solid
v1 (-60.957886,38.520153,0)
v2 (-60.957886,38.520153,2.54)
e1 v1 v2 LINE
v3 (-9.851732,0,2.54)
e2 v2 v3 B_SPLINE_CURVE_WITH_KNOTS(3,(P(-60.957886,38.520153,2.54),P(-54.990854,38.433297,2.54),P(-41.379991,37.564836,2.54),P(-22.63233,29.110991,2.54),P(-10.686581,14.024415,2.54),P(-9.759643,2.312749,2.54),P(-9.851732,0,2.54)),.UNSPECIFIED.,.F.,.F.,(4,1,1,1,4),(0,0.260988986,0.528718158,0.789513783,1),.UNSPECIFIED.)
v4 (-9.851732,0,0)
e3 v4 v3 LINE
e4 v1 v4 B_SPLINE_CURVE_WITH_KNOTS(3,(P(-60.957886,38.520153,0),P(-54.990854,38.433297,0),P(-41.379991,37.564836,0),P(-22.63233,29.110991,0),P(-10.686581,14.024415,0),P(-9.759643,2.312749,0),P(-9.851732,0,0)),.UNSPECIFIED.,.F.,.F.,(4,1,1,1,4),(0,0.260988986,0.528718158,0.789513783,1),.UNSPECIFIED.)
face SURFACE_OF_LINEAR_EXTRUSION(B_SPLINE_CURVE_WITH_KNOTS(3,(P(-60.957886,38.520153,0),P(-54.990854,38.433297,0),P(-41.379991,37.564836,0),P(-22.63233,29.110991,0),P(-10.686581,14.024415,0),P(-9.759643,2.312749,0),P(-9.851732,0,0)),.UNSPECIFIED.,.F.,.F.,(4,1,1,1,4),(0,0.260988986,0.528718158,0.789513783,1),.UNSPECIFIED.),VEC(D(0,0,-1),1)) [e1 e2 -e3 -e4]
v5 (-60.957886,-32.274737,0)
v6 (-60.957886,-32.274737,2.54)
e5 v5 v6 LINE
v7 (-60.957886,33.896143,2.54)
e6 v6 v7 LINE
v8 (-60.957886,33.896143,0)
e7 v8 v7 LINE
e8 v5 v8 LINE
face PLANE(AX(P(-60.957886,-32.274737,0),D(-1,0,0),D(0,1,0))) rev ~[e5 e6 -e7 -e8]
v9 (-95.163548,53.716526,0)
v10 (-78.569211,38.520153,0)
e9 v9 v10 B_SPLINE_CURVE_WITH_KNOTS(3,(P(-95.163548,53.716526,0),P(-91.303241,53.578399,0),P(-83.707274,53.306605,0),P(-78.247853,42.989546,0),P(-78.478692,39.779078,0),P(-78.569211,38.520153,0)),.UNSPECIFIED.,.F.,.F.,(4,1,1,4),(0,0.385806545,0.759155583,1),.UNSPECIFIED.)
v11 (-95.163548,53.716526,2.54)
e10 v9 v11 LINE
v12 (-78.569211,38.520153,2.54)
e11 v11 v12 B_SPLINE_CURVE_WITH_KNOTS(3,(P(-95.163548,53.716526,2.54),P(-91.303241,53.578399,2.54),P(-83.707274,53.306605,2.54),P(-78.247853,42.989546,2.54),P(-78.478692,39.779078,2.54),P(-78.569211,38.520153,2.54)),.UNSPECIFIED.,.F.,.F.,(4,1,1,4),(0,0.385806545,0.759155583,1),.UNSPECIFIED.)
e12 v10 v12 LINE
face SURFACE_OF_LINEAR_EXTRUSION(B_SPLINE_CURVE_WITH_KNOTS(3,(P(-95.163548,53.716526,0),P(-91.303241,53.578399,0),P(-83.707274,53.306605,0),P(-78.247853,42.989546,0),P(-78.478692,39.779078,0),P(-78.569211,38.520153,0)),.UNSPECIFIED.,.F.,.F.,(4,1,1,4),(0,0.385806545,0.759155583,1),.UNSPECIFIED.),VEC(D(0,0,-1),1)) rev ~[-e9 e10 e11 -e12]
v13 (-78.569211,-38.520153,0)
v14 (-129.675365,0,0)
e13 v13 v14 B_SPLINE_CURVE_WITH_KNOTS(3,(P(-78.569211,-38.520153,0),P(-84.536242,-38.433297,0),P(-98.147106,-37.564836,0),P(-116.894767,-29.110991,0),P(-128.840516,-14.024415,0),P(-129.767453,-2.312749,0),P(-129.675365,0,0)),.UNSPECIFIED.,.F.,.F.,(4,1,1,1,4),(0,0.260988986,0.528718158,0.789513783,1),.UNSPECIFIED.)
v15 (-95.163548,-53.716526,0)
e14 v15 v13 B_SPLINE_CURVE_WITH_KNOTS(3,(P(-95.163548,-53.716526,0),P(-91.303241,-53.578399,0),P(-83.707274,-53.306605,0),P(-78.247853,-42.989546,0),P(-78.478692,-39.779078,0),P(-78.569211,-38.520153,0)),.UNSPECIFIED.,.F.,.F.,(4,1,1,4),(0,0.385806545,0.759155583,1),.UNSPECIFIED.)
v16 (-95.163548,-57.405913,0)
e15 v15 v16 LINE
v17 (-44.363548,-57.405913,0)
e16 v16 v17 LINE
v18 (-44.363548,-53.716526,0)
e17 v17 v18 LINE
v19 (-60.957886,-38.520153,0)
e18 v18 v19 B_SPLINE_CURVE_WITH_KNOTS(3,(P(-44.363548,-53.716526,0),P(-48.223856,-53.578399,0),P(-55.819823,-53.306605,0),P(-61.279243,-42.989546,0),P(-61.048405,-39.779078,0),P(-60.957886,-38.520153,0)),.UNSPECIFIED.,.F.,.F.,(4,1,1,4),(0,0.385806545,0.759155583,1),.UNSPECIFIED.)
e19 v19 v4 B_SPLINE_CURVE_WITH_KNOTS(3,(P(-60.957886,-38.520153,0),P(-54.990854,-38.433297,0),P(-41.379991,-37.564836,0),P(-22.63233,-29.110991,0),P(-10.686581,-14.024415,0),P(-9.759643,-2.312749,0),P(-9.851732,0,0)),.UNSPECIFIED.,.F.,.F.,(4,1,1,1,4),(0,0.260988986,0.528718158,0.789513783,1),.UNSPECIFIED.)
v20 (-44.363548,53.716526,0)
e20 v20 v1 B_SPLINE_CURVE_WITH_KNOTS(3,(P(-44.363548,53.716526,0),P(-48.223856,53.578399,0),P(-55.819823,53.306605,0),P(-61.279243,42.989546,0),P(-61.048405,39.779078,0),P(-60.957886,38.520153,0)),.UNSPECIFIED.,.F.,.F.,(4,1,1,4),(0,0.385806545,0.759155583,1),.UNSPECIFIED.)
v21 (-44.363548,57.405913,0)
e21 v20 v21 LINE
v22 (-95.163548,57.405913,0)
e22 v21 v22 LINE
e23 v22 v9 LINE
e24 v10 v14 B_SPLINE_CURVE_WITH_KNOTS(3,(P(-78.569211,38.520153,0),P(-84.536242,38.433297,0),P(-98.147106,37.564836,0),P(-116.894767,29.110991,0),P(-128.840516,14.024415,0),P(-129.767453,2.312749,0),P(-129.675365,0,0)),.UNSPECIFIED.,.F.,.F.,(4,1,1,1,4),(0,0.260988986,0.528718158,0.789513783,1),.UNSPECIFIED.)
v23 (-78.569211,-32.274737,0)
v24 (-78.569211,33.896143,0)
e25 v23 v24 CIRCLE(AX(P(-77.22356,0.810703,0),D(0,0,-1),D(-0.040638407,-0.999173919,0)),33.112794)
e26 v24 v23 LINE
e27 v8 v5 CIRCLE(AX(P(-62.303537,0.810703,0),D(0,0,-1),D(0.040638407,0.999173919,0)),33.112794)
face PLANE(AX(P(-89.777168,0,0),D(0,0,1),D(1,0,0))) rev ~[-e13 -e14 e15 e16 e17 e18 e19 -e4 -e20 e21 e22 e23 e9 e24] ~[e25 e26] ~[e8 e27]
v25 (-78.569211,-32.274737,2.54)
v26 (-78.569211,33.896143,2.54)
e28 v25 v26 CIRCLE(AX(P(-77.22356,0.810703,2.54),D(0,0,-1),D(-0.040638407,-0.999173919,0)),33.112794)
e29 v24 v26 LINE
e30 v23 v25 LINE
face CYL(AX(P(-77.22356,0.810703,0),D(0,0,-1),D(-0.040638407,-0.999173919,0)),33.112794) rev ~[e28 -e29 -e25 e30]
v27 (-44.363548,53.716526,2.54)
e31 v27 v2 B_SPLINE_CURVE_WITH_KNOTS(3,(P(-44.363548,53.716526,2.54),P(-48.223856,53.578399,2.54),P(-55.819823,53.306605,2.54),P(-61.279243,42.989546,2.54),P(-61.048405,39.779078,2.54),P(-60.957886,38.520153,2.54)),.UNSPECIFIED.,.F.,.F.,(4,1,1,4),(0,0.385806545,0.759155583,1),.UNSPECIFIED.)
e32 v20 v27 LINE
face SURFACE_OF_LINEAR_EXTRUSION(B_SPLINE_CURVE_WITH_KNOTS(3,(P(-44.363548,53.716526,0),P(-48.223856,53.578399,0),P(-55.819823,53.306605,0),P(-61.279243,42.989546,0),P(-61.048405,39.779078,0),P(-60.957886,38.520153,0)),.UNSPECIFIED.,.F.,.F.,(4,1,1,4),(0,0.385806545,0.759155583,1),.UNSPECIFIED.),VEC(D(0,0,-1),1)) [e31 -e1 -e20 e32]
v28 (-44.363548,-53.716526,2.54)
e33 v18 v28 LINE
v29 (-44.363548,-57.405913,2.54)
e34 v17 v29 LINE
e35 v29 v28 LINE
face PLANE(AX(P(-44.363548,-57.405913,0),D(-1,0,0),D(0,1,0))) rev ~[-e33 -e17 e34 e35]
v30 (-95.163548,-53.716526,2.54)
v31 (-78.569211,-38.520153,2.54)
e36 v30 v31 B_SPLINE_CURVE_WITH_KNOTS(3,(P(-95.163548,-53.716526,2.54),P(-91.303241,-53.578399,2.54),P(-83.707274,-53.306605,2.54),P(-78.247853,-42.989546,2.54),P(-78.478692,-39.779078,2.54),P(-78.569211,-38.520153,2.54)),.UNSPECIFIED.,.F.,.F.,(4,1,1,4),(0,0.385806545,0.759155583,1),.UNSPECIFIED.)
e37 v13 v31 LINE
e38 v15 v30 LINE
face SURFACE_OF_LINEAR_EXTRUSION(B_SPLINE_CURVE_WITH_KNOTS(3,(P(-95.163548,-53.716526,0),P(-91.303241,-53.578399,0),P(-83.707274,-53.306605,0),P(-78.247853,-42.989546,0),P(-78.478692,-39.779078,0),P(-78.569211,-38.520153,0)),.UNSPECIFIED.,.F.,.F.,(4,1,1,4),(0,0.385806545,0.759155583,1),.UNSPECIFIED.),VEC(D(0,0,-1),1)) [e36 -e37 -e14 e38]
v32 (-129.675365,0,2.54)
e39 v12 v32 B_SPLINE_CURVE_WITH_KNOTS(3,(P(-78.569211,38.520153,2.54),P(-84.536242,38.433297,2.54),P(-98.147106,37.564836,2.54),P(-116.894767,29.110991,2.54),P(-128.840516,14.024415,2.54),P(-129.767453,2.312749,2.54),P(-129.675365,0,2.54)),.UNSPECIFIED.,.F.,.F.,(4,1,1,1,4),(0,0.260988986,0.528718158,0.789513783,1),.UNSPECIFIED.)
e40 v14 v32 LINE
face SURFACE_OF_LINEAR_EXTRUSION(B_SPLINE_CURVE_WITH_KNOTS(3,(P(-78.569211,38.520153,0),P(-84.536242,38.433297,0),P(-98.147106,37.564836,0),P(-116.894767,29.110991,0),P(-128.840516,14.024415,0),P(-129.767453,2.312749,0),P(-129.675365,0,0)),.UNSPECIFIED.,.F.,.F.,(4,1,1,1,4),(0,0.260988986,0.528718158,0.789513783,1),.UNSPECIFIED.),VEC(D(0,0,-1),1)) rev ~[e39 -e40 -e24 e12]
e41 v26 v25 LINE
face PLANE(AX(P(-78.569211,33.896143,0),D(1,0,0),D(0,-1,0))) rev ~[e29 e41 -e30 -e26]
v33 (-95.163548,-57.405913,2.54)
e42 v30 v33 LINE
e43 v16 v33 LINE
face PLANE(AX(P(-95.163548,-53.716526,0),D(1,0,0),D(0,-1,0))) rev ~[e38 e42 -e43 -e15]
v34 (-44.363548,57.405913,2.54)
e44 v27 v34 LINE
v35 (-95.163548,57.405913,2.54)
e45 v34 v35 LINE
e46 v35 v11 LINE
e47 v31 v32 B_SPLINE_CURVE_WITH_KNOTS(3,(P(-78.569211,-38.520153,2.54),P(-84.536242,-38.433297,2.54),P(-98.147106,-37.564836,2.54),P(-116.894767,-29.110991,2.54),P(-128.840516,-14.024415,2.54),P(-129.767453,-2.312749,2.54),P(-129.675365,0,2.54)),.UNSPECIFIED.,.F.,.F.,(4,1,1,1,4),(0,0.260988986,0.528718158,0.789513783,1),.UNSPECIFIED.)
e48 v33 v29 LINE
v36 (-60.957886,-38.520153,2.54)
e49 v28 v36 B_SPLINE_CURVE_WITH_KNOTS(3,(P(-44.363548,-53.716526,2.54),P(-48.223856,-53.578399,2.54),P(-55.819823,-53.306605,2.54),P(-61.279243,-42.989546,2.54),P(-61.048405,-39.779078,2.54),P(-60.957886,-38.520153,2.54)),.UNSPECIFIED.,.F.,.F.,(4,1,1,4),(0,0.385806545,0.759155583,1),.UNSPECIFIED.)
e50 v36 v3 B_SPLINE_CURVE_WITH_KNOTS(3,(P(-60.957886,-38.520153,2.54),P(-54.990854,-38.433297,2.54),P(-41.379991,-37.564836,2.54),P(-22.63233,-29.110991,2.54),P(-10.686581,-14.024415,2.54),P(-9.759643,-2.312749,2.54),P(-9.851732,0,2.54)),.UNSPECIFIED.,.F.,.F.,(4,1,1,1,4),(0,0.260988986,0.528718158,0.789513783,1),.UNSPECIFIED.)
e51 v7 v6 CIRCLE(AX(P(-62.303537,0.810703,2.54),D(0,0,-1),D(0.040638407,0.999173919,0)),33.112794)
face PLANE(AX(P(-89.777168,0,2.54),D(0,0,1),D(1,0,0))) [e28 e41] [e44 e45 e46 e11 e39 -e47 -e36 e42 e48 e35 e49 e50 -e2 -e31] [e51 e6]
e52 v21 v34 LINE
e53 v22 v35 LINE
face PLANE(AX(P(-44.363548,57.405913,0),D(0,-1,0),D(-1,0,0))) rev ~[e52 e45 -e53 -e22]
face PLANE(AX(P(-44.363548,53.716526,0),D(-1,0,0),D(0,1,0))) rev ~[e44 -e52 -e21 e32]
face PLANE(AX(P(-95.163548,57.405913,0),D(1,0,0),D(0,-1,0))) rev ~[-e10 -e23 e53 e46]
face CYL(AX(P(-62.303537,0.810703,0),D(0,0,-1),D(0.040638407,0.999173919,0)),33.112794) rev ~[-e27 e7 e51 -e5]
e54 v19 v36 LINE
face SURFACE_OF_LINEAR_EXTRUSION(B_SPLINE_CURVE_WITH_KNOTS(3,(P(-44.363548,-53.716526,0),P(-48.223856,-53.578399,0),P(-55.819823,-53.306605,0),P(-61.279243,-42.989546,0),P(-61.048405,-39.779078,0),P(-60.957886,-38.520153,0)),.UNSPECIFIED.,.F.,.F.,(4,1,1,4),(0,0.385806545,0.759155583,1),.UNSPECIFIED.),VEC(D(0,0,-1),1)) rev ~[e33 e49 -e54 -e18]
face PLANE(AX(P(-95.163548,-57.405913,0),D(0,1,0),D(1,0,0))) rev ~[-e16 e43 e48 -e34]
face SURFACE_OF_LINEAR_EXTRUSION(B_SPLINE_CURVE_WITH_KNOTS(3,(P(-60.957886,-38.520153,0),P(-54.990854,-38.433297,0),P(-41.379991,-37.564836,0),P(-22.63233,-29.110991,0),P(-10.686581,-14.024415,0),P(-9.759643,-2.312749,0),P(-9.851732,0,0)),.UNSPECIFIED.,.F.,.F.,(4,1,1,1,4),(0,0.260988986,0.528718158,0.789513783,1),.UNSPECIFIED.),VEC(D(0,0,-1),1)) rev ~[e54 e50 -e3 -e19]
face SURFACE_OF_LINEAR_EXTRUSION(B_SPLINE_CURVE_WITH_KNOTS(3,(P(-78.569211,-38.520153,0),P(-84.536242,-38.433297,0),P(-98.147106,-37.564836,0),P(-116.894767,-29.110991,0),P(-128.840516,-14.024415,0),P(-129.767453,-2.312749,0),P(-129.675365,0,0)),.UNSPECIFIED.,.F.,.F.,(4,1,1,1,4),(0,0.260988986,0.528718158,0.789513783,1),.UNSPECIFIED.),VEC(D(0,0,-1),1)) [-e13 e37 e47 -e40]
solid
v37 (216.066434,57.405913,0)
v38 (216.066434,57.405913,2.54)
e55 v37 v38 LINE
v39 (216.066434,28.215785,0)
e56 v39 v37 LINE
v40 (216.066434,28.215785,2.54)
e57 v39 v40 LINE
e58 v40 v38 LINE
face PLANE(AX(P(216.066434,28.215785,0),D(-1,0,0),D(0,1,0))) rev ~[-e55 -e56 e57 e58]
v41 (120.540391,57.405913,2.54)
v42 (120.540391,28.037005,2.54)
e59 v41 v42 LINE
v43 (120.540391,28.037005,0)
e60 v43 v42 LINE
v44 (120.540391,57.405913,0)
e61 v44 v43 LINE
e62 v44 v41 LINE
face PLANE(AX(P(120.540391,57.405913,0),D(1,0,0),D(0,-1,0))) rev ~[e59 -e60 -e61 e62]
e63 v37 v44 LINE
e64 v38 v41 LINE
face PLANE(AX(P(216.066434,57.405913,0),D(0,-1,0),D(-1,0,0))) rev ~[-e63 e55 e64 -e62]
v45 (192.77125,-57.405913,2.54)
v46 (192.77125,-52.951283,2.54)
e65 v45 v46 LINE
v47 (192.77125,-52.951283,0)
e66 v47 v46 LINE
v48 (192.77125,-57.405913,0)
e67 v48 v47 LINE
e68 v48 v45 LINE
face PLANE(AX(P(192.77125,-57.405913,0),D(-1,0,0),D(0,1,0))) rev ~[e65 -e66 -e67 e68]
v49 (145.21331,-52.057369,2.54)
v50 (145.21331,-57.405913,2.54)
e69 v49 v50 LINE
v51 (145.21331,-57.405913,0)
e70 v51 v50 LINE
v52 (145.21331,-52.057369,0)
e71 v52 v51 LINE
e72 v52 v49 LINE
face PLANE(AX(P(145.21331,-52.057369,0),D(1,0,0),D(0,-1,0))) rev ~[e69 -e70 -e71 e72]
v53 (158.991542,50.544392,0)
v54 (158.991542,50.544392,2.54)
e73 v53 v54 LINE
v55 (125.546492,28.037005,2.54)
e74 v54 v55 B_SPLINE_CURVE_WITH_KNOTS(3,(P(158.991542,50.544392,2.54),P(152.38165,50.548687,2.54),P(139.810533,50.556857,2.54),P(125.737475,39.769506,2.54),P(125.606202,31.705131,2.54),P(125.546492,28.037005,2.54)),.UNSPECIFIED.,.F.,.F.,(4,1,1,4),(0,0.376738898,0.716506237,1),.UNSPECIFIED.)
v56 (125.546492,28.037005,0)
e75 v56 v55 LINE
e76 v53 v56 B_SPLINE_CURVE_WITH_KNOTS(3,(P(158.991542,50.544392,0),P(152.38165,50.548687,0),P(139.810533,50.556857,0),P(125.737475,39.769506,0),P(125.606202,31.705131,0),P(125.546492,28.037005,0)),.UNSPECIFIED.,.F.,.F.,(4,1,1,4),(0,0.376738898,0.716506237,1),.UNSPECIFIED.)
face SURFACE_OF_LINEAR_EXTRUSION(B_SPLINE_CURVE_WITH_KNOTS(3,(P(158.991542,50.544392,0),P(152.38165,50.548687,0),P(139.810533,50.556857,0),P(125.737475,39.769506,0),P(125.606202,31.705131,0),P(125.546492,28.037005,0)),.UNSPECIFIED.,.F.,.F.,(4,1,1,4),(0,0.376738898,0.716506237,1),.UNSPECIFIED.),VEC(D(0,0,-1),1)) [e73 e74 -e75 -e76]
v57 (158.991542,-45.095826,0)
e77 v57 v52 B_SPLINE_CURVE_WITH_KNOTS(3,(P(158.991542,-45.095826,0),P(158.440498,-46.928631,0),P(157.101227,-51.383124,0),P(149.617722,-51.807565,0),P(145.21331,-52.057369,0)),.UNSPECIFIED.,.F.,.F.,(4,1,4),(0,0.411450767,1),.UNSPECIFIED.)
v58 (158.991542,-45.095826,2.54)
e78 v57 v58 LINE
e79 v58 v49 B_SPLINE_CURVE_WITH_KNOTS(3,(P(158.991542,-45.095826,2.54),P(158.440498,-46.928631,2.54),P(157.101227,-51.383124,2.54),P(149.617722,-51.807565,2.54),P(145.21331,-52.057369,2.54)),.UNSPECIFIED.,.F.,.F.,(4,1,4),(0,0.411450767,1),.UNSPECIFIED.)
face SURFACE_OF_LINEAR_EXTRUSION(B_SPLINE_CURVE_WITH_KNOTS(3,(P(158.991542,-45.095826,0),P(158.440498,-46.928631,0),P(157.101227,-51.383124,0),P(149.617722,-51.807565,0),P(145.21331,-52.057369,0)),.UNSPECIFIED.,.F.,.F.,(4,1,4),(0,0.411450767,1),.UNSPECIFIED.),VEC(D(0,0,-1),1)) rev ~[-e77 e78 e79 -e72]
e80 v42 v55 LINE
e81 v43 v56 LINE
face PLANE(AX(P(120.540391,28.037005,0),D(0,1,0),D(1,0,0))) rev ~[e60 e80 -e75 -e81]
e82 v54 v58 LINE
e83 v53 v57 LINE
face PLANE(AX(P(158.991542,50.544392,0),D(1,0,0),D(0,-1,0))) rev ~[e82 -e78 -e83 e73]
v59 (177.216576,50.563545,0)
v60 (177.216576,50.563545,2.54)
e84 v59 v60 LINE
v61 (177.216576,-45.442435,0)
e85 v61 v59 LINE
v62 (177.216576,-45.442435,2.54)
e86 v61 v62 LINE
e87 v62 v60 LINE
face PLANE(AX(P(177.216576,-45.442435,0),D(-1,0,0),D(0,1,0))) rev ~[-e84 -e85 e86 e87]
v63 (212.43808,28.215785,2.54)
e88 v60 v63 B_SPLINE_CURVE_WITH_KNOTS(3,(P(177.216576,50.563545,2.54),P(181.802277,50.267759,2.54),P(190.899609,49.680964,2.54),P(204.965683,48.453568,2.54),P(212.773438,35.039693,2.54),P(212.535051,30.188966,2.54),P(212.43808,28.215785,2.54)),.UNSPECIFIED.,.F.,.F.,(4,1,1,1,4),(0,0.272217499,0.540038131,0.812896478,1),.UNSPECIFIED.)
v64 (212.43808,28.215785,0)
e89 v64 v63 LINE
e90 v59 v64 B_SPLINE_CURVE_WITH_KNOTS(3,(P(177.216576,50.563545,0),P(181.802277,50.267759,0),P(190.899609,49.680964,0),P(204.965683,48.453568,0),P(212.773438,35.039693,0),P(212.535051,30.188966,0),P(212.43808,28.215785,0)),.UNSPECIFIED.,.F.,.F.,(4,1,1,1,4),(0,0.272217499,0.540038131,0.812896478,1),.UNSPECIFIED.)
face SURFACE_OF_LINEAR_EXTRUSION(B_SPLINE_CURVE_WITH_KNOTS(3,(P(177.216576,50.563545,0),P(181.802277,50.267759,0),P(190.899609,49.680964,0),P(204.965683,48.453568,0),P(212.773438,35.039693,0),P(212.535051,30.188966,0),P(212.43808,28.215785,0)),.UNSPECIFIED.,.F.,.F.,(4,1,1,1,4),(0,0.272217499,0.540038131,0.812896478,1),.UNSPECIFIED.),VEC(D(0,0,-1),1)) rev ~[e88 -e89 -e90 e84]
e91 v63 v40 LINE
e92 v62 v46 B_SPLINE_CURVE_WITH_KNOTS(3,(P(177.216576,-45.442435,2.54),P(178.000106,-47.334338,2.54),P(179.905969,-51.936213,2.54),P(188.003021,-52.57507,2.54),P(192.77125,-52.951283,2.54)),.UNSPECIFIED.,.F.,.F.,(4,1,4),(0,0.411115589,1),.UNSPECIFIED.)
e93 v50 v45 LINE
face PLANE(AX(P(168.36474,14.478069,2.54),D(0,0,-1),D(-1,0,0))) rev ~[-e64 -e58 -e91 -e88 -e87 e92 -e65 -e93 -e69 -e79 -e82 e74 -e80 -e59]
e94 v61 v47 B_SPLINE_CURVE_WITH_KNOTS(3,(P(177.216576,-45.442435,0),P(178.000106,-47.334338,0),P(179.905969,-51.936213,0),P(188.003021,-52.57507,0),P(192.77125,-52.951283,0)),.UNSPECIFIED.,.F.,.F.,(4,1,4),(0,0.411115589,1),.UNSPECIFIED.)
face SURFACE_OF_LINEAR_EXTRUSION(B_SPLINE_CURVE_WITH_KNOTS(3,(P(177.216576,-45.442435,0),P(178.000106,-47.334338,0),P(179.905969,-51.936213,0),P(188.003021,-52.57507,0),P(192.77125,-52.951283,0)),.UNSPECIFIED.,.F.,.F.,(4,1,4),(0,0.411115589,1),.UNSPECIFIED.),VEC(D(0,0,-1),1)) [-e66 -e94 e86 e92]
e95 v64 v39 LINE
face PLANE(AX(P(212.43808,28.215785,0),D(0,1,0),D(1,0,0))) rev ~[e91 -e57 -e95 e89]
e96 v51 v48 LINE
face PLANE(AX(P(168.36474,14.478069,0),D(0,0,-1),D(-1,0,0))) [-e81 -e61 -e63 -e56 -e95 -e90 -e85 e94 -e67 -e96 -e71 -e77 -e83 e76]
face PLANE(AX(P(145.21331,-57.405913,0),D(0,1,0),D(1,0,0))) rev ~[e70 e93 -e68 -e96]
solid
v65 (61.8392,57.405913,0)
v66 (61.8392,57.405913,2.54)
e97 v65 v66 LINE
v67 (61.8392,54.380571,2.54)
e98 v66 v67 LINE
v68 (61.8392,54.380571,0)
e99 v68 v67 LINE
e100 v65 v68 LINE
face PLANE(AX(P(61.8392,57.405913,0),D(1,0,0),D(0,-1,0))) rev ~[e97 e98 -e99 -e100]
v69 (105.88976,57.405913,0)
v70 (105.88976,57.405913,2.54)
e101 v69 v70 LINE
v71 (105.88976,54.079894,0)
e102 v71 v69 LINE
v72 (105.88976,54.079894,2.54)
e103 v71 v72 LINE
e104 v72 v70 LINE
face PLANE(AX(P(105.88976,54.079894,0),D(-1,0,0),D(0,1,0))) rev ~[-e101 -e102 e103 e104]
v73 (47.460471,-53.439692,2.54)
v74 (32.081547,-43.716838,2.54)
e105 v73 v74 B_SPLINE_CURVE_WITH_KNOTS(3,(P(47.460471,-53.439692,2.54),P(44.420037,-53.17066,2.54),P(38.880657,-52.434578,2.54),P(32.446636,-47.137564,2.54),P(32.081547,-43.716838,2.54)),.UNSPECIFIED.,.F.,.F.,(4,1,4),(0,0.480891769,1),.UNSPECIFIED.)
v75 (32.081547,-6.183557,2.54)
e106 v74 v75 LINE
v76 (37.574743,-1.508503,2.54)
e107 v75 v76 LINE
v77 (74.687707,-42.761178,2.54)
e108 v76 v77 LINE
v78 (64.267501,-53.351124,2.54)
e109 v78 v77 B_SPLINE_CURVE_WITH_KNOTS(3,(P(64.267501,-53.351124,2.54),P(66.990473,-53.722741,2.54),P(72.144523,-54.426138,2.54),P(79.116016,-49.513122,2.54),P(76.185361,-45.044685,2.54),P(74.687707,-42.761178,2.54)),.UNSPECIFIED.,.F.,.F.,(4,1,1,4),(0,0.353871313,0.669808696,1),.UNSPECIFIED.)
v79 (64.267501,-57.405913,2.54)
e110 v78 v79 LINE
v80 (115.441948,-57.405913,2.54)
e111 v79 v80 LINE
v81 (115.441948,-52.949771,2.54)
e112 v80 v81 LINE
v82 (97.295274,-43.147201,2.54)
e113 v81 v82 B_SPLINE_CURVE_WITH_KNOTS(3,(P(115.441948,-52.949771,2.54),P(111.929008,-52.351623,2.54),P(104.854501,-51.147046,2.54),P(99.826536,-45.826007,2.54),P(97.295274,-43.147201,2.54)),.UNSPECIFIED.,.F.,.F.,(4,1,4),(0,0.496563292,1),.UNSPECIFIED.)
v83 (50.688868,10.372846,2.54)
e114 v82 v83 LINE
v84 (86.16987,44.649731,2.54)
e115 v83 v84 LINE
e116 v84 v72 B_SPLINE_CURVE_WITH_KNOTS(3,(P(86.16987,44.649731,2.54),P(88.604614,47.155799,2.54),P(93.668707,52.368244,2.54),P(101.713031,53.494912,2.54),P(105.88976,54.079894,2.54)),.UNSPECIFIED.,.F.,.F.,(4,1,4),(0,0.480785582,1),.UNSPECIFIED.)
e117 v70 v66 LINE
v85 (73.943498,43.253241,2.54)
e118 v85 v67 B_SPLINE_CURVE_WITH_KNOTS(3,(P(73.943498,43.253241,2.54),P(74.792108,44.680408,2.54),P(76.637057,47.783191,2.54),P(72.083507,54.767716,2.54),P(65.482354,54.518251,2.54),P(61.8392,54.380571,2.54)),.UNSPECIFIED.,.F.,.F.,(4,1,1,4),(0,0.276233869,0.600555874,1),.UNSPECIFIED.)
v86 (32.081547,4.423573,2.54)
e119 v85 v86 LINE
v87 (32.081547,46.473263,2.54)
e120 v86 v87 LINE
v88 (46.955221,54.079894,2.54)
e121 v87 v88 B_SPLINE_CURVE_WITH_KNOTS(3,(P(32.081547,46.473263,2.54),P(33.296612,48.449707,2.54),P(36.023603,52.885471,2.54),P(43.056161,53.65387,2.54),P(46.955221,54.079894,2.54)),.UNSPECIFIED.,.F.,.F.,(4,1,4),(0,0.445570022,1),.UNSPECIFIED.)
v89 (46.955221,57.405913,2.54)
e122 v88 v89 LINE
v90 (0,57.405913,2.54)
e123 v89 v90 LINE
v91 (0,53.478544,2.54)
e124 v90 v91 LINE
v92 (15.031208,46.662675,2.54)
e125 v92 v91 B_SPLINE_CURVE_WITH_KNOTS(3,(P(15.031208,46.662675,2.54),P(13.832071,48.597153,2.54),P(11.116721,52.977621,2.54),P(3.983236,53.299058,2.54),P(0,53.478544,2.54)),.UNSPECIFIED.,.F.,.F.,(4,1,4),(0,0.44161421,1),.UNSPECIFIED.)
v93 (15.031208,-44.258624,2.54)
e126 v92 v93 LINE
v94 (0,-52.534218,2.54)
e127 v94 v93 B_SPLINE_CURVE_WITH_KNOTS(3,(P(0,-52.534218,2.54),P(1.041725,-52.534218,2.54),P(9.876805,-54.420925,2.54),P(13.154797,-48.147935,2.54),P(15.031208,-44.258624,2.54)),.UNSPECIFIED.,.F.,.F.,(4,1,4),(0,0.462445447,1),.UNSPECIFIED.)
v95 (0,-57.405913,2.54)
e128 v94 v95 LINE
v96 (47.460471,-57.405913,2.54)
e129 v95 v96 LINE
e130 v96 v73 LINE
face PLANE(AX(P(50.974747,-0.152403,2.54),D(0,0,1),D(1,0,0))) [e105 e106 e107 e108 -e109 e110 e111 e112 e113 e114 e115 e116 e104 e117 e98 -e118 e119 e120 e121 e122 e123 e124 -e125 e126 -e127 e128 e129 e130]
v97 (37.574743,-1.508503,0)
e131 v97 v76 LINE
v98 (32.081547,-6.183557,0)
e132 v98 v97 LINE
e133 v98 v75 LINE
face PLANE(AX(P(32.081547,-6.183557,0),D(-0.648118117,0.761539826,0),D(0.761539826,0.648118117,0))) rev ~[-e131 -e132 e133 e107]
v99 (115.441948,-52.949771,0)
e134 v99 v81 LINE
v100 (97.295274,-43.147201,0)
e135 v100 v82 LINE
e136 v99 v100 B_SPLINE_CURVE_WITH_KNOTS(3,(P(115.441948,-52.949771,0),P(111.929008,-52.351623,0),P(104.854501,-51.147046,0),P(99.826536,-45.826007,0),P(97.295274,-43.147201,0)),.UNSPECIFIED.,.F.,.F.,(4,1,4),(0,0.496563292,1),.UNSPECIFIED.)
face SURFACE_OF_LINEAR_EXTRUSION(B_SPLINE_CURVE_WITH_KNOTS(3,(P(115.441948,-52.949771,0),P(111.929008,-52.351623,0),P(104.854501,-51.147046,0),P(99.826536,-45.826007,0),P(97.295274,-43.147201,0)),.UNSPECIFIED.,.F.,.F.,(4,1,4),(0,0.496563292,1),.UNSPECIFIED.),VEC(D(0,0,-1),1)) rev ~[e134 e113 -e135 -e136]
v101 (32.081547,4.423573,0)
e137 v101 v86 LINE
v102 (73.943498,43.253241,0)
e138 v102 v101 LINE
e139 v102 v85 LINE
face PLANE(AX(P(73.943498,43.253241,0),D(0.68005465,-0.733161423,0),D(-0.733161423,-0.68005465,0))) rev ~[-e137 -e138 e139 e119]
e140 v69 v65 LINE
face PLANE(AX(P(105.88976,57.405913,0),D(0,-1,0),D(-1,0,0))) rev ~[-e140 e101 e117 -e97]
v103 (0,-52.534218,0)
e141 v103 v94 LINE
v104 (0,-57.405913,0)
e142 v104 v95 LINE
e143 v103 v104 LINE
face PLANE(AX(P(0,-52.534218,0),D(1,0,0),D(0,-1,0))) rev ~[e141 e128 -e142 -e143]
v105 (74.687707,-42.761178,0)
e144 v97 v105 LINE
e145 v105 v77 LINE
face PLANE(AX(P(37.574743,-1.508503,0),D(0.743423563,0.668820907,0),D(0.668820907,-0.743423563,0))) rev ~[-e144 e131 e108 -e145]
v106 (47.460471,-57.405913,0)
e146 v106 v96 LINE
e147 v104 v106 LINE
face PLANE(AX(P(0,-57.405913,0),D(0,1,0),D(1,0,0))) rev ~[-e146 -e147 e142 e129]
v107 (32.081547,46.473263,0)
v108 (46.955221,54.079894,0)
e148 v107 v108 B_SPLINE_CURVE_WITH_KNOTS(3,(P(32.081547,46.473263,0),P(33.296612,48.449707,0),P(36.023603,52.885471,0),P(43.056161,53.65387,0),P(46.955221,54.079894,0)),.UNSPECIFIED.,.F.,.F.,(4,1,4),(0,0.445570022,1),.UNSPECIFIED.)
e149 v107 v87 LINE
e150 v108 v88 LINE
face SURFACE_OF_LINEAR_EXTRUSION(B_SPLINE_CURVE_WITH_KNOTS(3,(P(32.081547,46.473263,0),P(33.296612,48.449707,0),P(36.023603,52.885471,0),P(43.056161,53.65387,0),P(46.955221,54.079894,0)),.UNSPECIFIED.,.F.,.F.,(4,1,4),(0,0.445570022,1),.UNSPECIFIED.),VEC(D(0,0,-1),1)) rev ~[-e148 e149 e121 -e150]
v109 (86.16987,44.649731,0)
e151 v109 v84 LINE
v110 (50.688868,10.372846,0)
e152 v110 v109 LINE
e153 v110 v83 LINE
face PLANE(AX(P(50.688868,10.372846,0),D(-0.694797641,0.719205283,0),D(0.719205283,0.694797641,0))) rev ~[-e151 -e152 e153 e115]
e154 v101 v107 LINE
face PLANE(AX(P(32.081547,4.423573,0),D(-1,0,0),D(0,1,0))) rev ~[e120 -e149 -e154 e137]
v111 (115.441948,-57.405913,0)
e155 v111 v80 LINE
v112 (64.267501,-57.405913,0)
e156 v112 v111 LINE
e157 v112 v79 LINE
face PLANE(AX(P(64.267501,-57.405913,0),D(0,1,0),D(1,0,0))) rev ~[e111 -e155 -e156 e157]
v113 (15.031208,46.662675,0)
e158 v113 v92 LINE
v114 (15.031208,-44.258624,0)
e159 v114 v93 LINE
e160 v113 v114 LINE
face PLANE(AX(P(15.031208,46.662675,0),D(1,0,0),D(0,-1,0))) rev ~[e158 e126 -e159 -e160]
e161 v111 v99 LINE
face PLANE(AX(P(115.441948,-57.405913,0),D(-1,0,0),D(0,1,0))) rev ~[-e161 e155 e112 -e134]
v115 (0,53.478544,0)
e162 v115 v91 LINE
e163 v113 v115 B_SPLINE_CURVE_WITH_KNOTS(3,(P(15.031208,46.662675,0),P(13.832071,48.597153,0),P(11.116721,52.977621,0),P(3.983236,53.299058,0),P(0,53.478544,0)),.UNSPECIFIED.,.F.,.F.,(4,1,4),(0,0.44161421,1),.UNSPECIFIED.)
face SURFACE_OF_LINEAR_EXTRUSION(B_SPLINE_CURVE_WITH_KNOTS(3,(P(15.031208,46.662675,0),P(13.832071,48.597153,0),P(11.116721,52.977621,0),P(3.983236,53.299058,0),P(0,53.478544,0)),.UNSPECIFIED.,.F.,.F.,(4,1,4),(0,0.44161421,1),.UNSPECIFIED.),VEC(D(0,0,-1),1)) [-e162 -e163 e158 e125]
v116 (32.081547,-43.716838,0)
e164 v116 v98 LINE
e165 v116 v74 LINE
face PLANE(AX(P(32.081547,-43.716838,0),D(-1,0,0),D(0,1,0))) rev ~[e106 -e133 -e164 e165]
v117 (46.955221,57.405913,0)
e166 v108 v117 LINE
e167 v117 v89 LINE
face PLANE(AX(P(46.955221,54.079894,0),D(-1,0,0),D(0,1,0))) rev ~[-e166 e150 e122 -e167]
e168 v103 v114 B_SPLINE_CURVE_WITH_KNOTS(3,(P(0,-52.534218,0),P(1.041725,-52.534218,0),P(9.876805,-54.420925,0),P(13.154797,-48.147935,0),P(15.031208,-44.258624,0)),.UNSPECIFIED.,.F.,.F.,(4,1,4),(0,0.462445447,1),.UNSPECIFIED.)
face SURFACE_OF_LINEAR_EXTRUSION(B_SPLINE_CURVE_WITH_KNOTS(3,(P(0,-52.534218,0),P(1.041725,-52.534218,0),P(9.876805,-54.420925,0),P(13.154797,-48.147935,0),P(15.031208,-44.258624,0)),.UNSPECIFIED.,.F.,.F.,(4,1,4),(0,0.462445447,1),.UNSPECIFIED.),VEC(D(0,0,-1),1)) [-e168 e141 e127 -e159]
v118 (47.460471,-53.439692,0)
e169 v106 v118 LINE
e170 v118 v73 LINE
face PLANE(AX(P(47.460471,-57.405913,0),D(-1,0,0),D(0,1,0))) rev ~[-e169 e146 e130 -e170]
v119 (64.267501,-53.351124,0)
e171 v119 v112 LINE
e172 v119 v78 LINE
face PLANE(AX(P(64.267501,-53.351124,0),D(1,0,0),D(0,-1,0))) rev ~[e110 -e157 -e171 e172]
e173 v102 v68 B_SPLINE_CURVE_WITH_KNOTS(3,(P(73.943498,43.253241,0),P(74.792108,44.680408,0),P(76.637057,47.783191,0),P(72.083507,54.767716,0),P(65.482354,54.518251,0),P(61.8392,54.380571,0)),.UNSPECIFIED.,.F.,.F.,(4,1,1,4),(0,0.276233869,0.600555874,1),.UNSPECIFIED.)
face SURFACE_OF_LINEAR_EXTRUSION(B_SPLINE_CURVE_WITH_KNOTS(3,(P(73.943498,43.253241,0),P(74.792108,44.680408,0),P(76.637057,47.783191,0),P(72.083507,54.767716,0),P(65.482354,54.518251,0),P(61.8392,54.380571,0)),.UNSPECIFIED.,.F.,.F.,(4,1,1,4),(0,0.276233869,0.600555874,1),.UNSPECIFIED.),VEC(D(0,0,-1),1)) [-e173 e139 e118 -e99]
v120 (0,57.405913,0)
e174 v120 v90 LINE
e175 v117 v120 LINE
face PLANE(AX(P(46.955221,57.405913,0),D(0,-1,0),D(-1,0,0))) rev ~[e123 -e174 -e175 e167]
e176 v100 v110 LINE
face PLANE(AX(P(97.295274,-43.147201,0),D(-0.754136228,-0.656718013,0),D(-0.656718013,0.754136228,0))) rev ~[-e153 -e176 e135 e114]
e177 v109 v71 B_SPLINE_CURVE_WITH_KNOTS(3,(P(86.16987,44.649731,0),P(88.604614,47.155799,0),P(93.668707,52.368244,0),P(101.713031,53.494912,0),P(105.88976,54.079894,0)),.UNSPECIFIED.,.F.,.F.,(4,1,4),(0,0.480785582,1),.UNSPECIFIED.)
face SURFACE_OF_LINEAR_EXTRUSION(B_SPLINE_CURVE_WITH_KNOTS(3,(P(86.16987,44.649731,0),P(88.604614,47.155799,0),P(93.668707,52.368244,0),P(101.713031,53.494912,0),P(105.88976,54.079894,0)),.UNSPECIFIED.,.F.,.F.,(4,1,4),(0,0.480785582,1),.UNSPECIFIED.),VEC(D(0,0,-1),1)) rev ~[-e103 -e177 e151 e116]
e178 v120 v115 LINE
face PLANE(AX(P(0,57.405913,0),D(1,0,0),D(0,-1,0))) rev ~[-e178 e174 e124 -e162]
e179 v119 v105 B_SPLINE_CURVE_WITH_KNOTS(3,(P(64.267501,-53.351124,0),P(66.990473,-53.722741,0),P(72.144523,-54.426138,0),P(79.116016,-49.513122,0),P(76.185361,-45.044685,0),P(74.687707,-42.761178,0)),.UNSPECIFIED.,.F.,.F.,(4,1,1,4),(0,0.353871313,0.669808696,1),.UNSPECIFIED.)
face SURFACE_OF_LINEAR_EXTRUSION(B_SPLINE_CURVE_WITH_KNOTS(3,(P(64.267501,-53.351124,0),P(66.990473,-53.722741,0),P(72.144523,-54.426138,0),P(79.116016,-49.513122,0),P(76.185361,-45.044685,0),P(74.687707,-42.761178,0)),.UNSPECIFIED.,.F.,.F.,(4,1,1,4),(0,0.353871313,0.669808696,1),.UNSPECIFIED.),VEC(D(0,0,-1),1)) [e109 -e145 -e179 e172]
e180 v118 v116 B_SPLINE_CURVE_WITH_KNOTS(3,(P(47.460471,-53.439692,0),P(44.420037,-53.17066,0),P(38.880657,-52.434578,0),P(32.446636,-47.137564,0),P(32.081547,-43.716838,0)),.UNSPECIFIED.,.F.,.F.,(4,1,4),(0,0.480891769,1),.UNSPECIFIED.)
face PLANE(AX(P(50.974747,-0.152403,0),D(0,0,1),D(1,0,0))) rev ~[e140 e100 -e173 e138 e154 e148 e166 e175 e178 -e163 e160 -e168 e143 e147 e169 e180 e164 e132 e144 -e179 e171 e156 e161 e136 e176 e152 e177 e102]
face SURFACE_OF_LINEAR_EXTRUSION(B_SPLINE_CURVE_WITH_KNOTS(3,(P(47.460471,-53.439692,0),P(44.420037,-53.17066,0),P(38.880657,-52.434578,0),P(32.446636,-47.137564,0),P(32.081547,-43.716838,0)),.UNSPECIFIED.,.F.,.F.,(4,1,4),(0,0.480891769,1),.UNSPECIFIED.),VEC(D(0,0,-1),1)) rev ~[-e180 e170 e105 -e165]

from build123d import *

# Parameters (mm, degrees)
F1_DEPTH = 2.54
F2_W     = 602.5793105364
F2_H     = 243.5958907008
F3_DEPTH = 2.54


with BuildPart() as f1:
    # F0 (on Top) → F1 (new body)
    with BuildSketch(Plane.XY):
        with BuildLine():
            Line((-69.7635483229, 57.4059132741), (-95.1635483229, 57.4059132741))
            Line((-95.1635483229, 57.4059132741), (-95.1635483229, 53.7165255108))
            add(Edge.make_bspline(
                [(-95.1635483229, 53.7165255108), (-91.3032409816, 53.5783986368), (-83.7072737598, 53.306604939), (-78.2478533703, 42.9895455517), (-78.4786919856, 39.7790776836), (-78.5692110089, 38.5201530647)],
                knots=[0, 0, 0, 0, 0.3858065452, 0.7591555833, 1, 1, 1, 1], degree=3))
            add(Edge.make_bspline(
                [(-78.5692110089, 38.5201530647), (-84.5362422757, 38.4332970287), (-98.1471059941, 37.5648360945), (-116.8947668137, 29.1109906389), (-128.8405157483, 14.0244150421), (-129.7674531854, 2.312749047), (-129.6753650631, 0)],
                knots=[0, 0, 0, 0, 0.260988986, 0.5287181577, 0.7895137826, 1, 1, 1, 1], degree=3))
            add(Edge.make_bspline(
                [(-78.5692110089, -38.5201530647), (-84.5362422757, -38.4332970287), (-98.1471059941, -37.5648360945), (-116.8947668137, -29.1109906389), (-128.8405157483, -14.0244150421), (-129.7674531854, -2.312749047), (-129.6753650631, 0)],
                knots=[0, 0, 0, 0, 0.260988986, 0.5287181577, 0.7895137826, 1, 1, 1, 1], degree=3))
            add(Edge.make_bspline(
                [(-95.1635483229, -53.7165255108), (-91.3032409816, -53.5783986368), (-83.7072737598, -53.306604939), (-78.2478533703, -42.9895455517), (-78.4786919856, -39.7790776836), (-78.5692110089, -38.5201530647)],
                knots=[0, 0, 0, 0, 0.3858065452, 0.7591555833, 1, 1, 1, 1], degree=3))
            Line((-95.1635483229, -53.7165255108), (-95.1635483229, -57.4059132741))
            Line((-95.1635483229, -57.4059132741), (-69.7635483229, -57.4059132741))
            Line((-69.7635483229, -57.4059132741), (-69.7635483229, 57.4059132741))
        make_face()
        with BuildLine():
            ThreePointArc((-78.5692110089, -32.2747373481), (-110.3363536252, 0.8107026173), (-78.5692110089, 33.8961425826))
            Line((-78.5692110089, 33.8961425826), (-78.5692110089, 0))
            Line((-78.5692110089, 0), (-78.5692110089, -32.2747373481))
        make_face(mode=Mode.SUBTRACT)
        with BuildLine():
            Line((-44.3635483229, 57.4059132741), (-69.7635483229, 57.4059132741))
            Line((-69.7635483229, 57.4059132741), (-69.7635483229, -57.4059132741))
            Line((-69.7635483229, -57.4059132741), (-44.3635483229, -57.4059132741))
            Line((-44.3635483229, -57.4059132741), (-44.3635483229, -53.7165255108))
            add(Edge.make_bspline(
                [(-44.3635483229, -53.7165255108), (-48.2238556642, -53.5783986368), (-55.8198228859, -53.306604939), (-61.2792432755, -42.9895455517), (-61.0484046601, -39.7790776836), (-60.9578856368, -38.5201530647)],
                knots=[0, 0, 0, 0, 0.3858065452, 0.7591555833, 1, 1, 1, 1], degree=3))
            add(Edge.make_bspline(
                [(-60.9578856368, -38.5201530647), (-54.99085437, -38.4332970287), (-41.3799906516, -37.5648360945), (-22.6323298321, -29.1109906389), (-10.6865808975, -14.0244150421), (-9.7596434604, -2.312749047), (-9.8517315826, 0)],
                knots=[0, 0, 0, 0, 0.260988986, 0.5287181577, 0.7895137826, 1, 1, 1, 1], degree=3))
            add(Edge.make_bspline(
                [(-60.9578856368, 38.5201530647), (-54.99085437, 38.4332970287), (-41.3799906516, 37.5648360945), (-22.6323298321, 29.1109906389), (-10.6865808975, 14.0244150421), (-9.7596434604, 2.312749047), (-9.8517315826, 0)],
                knots=[0, 0, 0, 0, 0.260988986, 0.5287181577, 0.7895137826, 1, 1, 1, 1], degree=3))
            add(Edge.make_bspline(
                [(-44.3635483229, 53.7165255108), (-48.2238556642, 53.5783986368), (-55.8198228859, 53.306604939), (-61.2792432755, 42.9895455517), (-61.0484046601, 39.7790776836), (-60.9578856368, 38.5201530647)],
                knots=[0, 0, 0, 0, 0.3858065452, 0.7591555833, 1, 1, 1, 1], degree=3))
            Line((-44.3635483229, 53.7165255108), (-44.3635483229, 57.4059132741))
        make_face()
        with BuildLine():
            Line((-60.9578856368, 0), (-60.9578856368, 33.8961425826))
            ThreePointArc((-60.9578856368, 33.8961425826), (-29.1907430205, 0.8107026173), (-60.9578856368, -32.2747373481))
            Line((-60.9578856368, -32.2747373481), (-60.9578856368, 0))
        make_face(mode=Mode.SUBTRACT)
    extrude(amount=F1_DEPTH)


with BuildPart() as f1b:
    # F0 (on Top) → F1, piece 2 (new body)
    with BuildSketch(Plane.XY):
        with BuildLine():
            Line((15.0312080813, 46.6626754542), (15.0312080813, -44.2586236274))
            add(Edge.make_bspline(
                [(0, -52.5342177984), (1.0417254513, -52.5342177984), (9.8768053078, -54.4209252677), (13.15479739, -48.147935277), (15.0312080813, -44.2586236274)],
                knots=[0, 0, 0, 0, 0.4624454469, 1, 1, 1, 1], degree=3))
            Line((0, -52.5342177984), (0, -57.4059132741))
            Line((0, -57.4059132741), (47.4604713734, -57.4059132741))
            Line((47.4604713734, -57.4059132741), (47.4604713734, -53.4396920118))
            add(Edge.make_bspline(
                [(47.4604713734, -53.4396920118), (44.4200368097, -53.1706595717), (38.8806565826, -52.434578092), (32.4466357123, -47.1375636916), (32.0815469704, -43.716837814)],
                knots=[0, 0, 0, 0, 0.4808917688, 1, 1, 1, 1], degree=3))
            Line((32.0815469704, -43.716837814), (32.0815469704, -6.1835568628))
            Line((32.0815469704, -6.1835568628), (37.5747432401, -1.5085025872))
            Line((37.5747432401, -1.5085025872), (74.6877068903, -42.7611778189))
            add(Edge.make_bspline(
                [(64.2675012435, -53.3511242267), (66.9904733814, -53.7227410487), (72.1445233128, -54.4261384979), (79.1160162865, -49.513122206), (76.1853605985, -45.0446846032), (74.6877068903, -42.7611778189)],
                knots=[0, 0, 0, 0, 0.3538713129, 0.6698086957, 1, 1, 1, 1], degree=3))
            Line((64.2675012435, -53.3511242267), (64.2675012435, -57.4059132741))
            Line((64.2675012435, -57.4059132741), (115.4419480451, -57.4059132741))
            Line((115.4419480451, -57.4059132741), (115.4419480451, -52.9497714859))
            add(Edge.make_bspline(
                [(115.4419480451, -52.9497714859), (111.929007672, -52.3516227758), (104.8545009021, -51.1470457975), (99.8265362569, -45.8260070489), (97.2952742895, -43.1472008197)],
                knots=[0, 0, 0, 0, 0.4965632923, 1, 1, 1, 1], degree=3))
            Line((97.2952742895, -43.1472008197), (50.6888684884, 10.3728463997))
            Line((50.6888684884, 10.3728463997), (86.1698702601, 44.6497307785))
            add(Edge.make_bspline(
                [(86.1698702601, 44.6497307785), (88.6046135444, 47.1557989881), (93.6687073386, 52.3682435813), (101.7130311796, 53.4949115172), (105.8897600974, 54.0798937533)],
                knots=[0, 0, 0, 0, 0.4807855824, 1, 1, 1, 1], degree=3))
            Line((105.8897600974, 54.0798937533), (105.8897600974, 57.4059132741))
            Line((105.8897600974, 57.4059132741), (61.8392000344, 57.4059132741))
            Line((61.8392000344, 57.4059132741), (61.8392000344, 54.3805714916))
            add(Edge.make_bspline(
                [(73.9434983857, 43.2532406243), (74.7921079461, 44.6804079243), (76.6370571494, 47.7831907537), (72.0835068154, 54.7677163862), (65.4823542386, 54.518250749), (61.8392000344, 54.3805714916)],
                knots=[0, 0, 0, 0, 0.2762338687, 0.6005558736, 1, 1, 1, 1], degree=3))
            Line((73.9434983857, 43.2532406243), (32.0815469704, 4.4235725389))
            Line((32.0815469704, 4.4235725389), (32.0815469704, 46.473262822))
            add(Edge.make_bspline(
                [(32.0815469704, 46.473262822), (33.2966124138, 48.4497065283), (36.0236034249, 52.8854710794), (43.0561605898, 53.6538702292), (46.9552211076, 54.0798937533)],
                knots=[0, 0, 0, 0, 0.4455700215, 1, 1, 1, 1], degree=3))
            Line((46.9552211076, 54.0798937533), (46.9552211076, 57.4059132741))
            Line((46.9552211076, 57.4059132741), (0, 57.4059132741))
            Line((0, 57.4059132741), (0, 53.4785443456))
            add(Edge.make_bspline(
                [(15.0312080813, 46.6626754542), (13.8320708177, 48.5971526959), (11.1167205479, 52.9776214376), (3.9832362609, 53.2990584727), (0, 53.4785443456)],
                knots=[0, 0, 0, 0, 0.4416142097, 1, 1, 1, 1], degree=3))
        make_face()
    extrude(amount=F1_DEPTH)


with BuildPart() as f1c:
    # F0 (on Top) → F1, piece 3 (new body)
    with BuildSketch(Plane.XY):
        with BuildLine():
            add(Edge.make_bspline(
                [(158.9915424015, 50.5443920614), (152.38165043, 50.5486874846), (139.8105332639, 50.5568567963), (125.7374746376, 39.7695060836), (125.6062021514, 31.7051308011), (125.5464921343, 28.0370050591)],
                knots=[0, 0, 0, 0, 0.3767388978, 0.7165062373, 1, 1, 1, 1], degree=3))
            Line((158.9915424015, 50.5443920614), (158.9915424015, -45.0958256047))
            add(Edge.make_bspline(
                [(158.9915424015, -45.0958256047), (158.4404982104, -46.9286305172), (157.1012269393, -51.3831243748), (149.6177217356, -51.8075651394), (145.2133104846, -52.0573694261)],
                knots=[0, 0, 0, 0, 0.4114507666, 1, 1, 1, 1], degree=3))
            Line((145.2133104846, -52.0573694261), (145.2133104846, -57.4059132741))
            Line((145.2133104846, -57.4059132741), (192.77124951, -57.4059132741))
            Line((192.77124951, -57.4059132741), (192.77124951, -52.9512826123))
            add(Edge.make_bspline(
                [(177.2165762532, -45.4424349095), (178.0001061434, -47.3343375977), (179.9059689007, -51.9362129302), (188.0030214748, -52.5750697754), (192.77124951, -52.9512826123)],
                knots=[0, 0, 0, 0, 0.4111155891, 1, 1, 1, 1], degree=3))
            Line((177.2165762532, -45.4424349095), (177.2165762532, 50.5635451332))
            add(Edge.make_bspline(
                [(177.2165762532, 50.5635451332), (181.8022767761, 50.2677587533), (190.89960941, 49.6809635465), (204.9656834592, 48.4535677259), (212.7734382816, 35.0396926696), (212.535051211, 30.1889662243), (212.4380799979, 28.2157852689)],
                knots=[0, 0, 0, 0, 0.2722174992, 0.5400381309, 0.8128964784, 1, 1, 1, 1], degree=3))
            Line((212.4380799979, 28.2157852689), (216.0664340341, 28.2157852689))
            Line((216.0664340341, 28.2157852689), (216.0664340341, 57.4059132741))
            Line((216.0664340341, 57.4059132741), (120.540391373, 57.4059132741))
            Line((120.540391373, 57.4059132741), (120.540391373, 28.0370050591))
            Line((120.540391373, 28.0370050591), (125.5464921343, 28.0370050591))
        make_face()
    extrude(amount=F1_DEPTH)


with BuildPart() as f3:
    # F2 (on face) → F3 (new body)
    with BuildSketch(Plane(origin=(0, 0, 0), x_dir=(1, 0, 0), z_dir=(0, 0, -1))):
        with Locations((72.2850486636, -7.4851848185)):
            Rectangle(F2_W, F2_H)
    extrude(amount=F3_DEPTH)


solid = Compound([f1.part, f1b.part, f1c.part])
